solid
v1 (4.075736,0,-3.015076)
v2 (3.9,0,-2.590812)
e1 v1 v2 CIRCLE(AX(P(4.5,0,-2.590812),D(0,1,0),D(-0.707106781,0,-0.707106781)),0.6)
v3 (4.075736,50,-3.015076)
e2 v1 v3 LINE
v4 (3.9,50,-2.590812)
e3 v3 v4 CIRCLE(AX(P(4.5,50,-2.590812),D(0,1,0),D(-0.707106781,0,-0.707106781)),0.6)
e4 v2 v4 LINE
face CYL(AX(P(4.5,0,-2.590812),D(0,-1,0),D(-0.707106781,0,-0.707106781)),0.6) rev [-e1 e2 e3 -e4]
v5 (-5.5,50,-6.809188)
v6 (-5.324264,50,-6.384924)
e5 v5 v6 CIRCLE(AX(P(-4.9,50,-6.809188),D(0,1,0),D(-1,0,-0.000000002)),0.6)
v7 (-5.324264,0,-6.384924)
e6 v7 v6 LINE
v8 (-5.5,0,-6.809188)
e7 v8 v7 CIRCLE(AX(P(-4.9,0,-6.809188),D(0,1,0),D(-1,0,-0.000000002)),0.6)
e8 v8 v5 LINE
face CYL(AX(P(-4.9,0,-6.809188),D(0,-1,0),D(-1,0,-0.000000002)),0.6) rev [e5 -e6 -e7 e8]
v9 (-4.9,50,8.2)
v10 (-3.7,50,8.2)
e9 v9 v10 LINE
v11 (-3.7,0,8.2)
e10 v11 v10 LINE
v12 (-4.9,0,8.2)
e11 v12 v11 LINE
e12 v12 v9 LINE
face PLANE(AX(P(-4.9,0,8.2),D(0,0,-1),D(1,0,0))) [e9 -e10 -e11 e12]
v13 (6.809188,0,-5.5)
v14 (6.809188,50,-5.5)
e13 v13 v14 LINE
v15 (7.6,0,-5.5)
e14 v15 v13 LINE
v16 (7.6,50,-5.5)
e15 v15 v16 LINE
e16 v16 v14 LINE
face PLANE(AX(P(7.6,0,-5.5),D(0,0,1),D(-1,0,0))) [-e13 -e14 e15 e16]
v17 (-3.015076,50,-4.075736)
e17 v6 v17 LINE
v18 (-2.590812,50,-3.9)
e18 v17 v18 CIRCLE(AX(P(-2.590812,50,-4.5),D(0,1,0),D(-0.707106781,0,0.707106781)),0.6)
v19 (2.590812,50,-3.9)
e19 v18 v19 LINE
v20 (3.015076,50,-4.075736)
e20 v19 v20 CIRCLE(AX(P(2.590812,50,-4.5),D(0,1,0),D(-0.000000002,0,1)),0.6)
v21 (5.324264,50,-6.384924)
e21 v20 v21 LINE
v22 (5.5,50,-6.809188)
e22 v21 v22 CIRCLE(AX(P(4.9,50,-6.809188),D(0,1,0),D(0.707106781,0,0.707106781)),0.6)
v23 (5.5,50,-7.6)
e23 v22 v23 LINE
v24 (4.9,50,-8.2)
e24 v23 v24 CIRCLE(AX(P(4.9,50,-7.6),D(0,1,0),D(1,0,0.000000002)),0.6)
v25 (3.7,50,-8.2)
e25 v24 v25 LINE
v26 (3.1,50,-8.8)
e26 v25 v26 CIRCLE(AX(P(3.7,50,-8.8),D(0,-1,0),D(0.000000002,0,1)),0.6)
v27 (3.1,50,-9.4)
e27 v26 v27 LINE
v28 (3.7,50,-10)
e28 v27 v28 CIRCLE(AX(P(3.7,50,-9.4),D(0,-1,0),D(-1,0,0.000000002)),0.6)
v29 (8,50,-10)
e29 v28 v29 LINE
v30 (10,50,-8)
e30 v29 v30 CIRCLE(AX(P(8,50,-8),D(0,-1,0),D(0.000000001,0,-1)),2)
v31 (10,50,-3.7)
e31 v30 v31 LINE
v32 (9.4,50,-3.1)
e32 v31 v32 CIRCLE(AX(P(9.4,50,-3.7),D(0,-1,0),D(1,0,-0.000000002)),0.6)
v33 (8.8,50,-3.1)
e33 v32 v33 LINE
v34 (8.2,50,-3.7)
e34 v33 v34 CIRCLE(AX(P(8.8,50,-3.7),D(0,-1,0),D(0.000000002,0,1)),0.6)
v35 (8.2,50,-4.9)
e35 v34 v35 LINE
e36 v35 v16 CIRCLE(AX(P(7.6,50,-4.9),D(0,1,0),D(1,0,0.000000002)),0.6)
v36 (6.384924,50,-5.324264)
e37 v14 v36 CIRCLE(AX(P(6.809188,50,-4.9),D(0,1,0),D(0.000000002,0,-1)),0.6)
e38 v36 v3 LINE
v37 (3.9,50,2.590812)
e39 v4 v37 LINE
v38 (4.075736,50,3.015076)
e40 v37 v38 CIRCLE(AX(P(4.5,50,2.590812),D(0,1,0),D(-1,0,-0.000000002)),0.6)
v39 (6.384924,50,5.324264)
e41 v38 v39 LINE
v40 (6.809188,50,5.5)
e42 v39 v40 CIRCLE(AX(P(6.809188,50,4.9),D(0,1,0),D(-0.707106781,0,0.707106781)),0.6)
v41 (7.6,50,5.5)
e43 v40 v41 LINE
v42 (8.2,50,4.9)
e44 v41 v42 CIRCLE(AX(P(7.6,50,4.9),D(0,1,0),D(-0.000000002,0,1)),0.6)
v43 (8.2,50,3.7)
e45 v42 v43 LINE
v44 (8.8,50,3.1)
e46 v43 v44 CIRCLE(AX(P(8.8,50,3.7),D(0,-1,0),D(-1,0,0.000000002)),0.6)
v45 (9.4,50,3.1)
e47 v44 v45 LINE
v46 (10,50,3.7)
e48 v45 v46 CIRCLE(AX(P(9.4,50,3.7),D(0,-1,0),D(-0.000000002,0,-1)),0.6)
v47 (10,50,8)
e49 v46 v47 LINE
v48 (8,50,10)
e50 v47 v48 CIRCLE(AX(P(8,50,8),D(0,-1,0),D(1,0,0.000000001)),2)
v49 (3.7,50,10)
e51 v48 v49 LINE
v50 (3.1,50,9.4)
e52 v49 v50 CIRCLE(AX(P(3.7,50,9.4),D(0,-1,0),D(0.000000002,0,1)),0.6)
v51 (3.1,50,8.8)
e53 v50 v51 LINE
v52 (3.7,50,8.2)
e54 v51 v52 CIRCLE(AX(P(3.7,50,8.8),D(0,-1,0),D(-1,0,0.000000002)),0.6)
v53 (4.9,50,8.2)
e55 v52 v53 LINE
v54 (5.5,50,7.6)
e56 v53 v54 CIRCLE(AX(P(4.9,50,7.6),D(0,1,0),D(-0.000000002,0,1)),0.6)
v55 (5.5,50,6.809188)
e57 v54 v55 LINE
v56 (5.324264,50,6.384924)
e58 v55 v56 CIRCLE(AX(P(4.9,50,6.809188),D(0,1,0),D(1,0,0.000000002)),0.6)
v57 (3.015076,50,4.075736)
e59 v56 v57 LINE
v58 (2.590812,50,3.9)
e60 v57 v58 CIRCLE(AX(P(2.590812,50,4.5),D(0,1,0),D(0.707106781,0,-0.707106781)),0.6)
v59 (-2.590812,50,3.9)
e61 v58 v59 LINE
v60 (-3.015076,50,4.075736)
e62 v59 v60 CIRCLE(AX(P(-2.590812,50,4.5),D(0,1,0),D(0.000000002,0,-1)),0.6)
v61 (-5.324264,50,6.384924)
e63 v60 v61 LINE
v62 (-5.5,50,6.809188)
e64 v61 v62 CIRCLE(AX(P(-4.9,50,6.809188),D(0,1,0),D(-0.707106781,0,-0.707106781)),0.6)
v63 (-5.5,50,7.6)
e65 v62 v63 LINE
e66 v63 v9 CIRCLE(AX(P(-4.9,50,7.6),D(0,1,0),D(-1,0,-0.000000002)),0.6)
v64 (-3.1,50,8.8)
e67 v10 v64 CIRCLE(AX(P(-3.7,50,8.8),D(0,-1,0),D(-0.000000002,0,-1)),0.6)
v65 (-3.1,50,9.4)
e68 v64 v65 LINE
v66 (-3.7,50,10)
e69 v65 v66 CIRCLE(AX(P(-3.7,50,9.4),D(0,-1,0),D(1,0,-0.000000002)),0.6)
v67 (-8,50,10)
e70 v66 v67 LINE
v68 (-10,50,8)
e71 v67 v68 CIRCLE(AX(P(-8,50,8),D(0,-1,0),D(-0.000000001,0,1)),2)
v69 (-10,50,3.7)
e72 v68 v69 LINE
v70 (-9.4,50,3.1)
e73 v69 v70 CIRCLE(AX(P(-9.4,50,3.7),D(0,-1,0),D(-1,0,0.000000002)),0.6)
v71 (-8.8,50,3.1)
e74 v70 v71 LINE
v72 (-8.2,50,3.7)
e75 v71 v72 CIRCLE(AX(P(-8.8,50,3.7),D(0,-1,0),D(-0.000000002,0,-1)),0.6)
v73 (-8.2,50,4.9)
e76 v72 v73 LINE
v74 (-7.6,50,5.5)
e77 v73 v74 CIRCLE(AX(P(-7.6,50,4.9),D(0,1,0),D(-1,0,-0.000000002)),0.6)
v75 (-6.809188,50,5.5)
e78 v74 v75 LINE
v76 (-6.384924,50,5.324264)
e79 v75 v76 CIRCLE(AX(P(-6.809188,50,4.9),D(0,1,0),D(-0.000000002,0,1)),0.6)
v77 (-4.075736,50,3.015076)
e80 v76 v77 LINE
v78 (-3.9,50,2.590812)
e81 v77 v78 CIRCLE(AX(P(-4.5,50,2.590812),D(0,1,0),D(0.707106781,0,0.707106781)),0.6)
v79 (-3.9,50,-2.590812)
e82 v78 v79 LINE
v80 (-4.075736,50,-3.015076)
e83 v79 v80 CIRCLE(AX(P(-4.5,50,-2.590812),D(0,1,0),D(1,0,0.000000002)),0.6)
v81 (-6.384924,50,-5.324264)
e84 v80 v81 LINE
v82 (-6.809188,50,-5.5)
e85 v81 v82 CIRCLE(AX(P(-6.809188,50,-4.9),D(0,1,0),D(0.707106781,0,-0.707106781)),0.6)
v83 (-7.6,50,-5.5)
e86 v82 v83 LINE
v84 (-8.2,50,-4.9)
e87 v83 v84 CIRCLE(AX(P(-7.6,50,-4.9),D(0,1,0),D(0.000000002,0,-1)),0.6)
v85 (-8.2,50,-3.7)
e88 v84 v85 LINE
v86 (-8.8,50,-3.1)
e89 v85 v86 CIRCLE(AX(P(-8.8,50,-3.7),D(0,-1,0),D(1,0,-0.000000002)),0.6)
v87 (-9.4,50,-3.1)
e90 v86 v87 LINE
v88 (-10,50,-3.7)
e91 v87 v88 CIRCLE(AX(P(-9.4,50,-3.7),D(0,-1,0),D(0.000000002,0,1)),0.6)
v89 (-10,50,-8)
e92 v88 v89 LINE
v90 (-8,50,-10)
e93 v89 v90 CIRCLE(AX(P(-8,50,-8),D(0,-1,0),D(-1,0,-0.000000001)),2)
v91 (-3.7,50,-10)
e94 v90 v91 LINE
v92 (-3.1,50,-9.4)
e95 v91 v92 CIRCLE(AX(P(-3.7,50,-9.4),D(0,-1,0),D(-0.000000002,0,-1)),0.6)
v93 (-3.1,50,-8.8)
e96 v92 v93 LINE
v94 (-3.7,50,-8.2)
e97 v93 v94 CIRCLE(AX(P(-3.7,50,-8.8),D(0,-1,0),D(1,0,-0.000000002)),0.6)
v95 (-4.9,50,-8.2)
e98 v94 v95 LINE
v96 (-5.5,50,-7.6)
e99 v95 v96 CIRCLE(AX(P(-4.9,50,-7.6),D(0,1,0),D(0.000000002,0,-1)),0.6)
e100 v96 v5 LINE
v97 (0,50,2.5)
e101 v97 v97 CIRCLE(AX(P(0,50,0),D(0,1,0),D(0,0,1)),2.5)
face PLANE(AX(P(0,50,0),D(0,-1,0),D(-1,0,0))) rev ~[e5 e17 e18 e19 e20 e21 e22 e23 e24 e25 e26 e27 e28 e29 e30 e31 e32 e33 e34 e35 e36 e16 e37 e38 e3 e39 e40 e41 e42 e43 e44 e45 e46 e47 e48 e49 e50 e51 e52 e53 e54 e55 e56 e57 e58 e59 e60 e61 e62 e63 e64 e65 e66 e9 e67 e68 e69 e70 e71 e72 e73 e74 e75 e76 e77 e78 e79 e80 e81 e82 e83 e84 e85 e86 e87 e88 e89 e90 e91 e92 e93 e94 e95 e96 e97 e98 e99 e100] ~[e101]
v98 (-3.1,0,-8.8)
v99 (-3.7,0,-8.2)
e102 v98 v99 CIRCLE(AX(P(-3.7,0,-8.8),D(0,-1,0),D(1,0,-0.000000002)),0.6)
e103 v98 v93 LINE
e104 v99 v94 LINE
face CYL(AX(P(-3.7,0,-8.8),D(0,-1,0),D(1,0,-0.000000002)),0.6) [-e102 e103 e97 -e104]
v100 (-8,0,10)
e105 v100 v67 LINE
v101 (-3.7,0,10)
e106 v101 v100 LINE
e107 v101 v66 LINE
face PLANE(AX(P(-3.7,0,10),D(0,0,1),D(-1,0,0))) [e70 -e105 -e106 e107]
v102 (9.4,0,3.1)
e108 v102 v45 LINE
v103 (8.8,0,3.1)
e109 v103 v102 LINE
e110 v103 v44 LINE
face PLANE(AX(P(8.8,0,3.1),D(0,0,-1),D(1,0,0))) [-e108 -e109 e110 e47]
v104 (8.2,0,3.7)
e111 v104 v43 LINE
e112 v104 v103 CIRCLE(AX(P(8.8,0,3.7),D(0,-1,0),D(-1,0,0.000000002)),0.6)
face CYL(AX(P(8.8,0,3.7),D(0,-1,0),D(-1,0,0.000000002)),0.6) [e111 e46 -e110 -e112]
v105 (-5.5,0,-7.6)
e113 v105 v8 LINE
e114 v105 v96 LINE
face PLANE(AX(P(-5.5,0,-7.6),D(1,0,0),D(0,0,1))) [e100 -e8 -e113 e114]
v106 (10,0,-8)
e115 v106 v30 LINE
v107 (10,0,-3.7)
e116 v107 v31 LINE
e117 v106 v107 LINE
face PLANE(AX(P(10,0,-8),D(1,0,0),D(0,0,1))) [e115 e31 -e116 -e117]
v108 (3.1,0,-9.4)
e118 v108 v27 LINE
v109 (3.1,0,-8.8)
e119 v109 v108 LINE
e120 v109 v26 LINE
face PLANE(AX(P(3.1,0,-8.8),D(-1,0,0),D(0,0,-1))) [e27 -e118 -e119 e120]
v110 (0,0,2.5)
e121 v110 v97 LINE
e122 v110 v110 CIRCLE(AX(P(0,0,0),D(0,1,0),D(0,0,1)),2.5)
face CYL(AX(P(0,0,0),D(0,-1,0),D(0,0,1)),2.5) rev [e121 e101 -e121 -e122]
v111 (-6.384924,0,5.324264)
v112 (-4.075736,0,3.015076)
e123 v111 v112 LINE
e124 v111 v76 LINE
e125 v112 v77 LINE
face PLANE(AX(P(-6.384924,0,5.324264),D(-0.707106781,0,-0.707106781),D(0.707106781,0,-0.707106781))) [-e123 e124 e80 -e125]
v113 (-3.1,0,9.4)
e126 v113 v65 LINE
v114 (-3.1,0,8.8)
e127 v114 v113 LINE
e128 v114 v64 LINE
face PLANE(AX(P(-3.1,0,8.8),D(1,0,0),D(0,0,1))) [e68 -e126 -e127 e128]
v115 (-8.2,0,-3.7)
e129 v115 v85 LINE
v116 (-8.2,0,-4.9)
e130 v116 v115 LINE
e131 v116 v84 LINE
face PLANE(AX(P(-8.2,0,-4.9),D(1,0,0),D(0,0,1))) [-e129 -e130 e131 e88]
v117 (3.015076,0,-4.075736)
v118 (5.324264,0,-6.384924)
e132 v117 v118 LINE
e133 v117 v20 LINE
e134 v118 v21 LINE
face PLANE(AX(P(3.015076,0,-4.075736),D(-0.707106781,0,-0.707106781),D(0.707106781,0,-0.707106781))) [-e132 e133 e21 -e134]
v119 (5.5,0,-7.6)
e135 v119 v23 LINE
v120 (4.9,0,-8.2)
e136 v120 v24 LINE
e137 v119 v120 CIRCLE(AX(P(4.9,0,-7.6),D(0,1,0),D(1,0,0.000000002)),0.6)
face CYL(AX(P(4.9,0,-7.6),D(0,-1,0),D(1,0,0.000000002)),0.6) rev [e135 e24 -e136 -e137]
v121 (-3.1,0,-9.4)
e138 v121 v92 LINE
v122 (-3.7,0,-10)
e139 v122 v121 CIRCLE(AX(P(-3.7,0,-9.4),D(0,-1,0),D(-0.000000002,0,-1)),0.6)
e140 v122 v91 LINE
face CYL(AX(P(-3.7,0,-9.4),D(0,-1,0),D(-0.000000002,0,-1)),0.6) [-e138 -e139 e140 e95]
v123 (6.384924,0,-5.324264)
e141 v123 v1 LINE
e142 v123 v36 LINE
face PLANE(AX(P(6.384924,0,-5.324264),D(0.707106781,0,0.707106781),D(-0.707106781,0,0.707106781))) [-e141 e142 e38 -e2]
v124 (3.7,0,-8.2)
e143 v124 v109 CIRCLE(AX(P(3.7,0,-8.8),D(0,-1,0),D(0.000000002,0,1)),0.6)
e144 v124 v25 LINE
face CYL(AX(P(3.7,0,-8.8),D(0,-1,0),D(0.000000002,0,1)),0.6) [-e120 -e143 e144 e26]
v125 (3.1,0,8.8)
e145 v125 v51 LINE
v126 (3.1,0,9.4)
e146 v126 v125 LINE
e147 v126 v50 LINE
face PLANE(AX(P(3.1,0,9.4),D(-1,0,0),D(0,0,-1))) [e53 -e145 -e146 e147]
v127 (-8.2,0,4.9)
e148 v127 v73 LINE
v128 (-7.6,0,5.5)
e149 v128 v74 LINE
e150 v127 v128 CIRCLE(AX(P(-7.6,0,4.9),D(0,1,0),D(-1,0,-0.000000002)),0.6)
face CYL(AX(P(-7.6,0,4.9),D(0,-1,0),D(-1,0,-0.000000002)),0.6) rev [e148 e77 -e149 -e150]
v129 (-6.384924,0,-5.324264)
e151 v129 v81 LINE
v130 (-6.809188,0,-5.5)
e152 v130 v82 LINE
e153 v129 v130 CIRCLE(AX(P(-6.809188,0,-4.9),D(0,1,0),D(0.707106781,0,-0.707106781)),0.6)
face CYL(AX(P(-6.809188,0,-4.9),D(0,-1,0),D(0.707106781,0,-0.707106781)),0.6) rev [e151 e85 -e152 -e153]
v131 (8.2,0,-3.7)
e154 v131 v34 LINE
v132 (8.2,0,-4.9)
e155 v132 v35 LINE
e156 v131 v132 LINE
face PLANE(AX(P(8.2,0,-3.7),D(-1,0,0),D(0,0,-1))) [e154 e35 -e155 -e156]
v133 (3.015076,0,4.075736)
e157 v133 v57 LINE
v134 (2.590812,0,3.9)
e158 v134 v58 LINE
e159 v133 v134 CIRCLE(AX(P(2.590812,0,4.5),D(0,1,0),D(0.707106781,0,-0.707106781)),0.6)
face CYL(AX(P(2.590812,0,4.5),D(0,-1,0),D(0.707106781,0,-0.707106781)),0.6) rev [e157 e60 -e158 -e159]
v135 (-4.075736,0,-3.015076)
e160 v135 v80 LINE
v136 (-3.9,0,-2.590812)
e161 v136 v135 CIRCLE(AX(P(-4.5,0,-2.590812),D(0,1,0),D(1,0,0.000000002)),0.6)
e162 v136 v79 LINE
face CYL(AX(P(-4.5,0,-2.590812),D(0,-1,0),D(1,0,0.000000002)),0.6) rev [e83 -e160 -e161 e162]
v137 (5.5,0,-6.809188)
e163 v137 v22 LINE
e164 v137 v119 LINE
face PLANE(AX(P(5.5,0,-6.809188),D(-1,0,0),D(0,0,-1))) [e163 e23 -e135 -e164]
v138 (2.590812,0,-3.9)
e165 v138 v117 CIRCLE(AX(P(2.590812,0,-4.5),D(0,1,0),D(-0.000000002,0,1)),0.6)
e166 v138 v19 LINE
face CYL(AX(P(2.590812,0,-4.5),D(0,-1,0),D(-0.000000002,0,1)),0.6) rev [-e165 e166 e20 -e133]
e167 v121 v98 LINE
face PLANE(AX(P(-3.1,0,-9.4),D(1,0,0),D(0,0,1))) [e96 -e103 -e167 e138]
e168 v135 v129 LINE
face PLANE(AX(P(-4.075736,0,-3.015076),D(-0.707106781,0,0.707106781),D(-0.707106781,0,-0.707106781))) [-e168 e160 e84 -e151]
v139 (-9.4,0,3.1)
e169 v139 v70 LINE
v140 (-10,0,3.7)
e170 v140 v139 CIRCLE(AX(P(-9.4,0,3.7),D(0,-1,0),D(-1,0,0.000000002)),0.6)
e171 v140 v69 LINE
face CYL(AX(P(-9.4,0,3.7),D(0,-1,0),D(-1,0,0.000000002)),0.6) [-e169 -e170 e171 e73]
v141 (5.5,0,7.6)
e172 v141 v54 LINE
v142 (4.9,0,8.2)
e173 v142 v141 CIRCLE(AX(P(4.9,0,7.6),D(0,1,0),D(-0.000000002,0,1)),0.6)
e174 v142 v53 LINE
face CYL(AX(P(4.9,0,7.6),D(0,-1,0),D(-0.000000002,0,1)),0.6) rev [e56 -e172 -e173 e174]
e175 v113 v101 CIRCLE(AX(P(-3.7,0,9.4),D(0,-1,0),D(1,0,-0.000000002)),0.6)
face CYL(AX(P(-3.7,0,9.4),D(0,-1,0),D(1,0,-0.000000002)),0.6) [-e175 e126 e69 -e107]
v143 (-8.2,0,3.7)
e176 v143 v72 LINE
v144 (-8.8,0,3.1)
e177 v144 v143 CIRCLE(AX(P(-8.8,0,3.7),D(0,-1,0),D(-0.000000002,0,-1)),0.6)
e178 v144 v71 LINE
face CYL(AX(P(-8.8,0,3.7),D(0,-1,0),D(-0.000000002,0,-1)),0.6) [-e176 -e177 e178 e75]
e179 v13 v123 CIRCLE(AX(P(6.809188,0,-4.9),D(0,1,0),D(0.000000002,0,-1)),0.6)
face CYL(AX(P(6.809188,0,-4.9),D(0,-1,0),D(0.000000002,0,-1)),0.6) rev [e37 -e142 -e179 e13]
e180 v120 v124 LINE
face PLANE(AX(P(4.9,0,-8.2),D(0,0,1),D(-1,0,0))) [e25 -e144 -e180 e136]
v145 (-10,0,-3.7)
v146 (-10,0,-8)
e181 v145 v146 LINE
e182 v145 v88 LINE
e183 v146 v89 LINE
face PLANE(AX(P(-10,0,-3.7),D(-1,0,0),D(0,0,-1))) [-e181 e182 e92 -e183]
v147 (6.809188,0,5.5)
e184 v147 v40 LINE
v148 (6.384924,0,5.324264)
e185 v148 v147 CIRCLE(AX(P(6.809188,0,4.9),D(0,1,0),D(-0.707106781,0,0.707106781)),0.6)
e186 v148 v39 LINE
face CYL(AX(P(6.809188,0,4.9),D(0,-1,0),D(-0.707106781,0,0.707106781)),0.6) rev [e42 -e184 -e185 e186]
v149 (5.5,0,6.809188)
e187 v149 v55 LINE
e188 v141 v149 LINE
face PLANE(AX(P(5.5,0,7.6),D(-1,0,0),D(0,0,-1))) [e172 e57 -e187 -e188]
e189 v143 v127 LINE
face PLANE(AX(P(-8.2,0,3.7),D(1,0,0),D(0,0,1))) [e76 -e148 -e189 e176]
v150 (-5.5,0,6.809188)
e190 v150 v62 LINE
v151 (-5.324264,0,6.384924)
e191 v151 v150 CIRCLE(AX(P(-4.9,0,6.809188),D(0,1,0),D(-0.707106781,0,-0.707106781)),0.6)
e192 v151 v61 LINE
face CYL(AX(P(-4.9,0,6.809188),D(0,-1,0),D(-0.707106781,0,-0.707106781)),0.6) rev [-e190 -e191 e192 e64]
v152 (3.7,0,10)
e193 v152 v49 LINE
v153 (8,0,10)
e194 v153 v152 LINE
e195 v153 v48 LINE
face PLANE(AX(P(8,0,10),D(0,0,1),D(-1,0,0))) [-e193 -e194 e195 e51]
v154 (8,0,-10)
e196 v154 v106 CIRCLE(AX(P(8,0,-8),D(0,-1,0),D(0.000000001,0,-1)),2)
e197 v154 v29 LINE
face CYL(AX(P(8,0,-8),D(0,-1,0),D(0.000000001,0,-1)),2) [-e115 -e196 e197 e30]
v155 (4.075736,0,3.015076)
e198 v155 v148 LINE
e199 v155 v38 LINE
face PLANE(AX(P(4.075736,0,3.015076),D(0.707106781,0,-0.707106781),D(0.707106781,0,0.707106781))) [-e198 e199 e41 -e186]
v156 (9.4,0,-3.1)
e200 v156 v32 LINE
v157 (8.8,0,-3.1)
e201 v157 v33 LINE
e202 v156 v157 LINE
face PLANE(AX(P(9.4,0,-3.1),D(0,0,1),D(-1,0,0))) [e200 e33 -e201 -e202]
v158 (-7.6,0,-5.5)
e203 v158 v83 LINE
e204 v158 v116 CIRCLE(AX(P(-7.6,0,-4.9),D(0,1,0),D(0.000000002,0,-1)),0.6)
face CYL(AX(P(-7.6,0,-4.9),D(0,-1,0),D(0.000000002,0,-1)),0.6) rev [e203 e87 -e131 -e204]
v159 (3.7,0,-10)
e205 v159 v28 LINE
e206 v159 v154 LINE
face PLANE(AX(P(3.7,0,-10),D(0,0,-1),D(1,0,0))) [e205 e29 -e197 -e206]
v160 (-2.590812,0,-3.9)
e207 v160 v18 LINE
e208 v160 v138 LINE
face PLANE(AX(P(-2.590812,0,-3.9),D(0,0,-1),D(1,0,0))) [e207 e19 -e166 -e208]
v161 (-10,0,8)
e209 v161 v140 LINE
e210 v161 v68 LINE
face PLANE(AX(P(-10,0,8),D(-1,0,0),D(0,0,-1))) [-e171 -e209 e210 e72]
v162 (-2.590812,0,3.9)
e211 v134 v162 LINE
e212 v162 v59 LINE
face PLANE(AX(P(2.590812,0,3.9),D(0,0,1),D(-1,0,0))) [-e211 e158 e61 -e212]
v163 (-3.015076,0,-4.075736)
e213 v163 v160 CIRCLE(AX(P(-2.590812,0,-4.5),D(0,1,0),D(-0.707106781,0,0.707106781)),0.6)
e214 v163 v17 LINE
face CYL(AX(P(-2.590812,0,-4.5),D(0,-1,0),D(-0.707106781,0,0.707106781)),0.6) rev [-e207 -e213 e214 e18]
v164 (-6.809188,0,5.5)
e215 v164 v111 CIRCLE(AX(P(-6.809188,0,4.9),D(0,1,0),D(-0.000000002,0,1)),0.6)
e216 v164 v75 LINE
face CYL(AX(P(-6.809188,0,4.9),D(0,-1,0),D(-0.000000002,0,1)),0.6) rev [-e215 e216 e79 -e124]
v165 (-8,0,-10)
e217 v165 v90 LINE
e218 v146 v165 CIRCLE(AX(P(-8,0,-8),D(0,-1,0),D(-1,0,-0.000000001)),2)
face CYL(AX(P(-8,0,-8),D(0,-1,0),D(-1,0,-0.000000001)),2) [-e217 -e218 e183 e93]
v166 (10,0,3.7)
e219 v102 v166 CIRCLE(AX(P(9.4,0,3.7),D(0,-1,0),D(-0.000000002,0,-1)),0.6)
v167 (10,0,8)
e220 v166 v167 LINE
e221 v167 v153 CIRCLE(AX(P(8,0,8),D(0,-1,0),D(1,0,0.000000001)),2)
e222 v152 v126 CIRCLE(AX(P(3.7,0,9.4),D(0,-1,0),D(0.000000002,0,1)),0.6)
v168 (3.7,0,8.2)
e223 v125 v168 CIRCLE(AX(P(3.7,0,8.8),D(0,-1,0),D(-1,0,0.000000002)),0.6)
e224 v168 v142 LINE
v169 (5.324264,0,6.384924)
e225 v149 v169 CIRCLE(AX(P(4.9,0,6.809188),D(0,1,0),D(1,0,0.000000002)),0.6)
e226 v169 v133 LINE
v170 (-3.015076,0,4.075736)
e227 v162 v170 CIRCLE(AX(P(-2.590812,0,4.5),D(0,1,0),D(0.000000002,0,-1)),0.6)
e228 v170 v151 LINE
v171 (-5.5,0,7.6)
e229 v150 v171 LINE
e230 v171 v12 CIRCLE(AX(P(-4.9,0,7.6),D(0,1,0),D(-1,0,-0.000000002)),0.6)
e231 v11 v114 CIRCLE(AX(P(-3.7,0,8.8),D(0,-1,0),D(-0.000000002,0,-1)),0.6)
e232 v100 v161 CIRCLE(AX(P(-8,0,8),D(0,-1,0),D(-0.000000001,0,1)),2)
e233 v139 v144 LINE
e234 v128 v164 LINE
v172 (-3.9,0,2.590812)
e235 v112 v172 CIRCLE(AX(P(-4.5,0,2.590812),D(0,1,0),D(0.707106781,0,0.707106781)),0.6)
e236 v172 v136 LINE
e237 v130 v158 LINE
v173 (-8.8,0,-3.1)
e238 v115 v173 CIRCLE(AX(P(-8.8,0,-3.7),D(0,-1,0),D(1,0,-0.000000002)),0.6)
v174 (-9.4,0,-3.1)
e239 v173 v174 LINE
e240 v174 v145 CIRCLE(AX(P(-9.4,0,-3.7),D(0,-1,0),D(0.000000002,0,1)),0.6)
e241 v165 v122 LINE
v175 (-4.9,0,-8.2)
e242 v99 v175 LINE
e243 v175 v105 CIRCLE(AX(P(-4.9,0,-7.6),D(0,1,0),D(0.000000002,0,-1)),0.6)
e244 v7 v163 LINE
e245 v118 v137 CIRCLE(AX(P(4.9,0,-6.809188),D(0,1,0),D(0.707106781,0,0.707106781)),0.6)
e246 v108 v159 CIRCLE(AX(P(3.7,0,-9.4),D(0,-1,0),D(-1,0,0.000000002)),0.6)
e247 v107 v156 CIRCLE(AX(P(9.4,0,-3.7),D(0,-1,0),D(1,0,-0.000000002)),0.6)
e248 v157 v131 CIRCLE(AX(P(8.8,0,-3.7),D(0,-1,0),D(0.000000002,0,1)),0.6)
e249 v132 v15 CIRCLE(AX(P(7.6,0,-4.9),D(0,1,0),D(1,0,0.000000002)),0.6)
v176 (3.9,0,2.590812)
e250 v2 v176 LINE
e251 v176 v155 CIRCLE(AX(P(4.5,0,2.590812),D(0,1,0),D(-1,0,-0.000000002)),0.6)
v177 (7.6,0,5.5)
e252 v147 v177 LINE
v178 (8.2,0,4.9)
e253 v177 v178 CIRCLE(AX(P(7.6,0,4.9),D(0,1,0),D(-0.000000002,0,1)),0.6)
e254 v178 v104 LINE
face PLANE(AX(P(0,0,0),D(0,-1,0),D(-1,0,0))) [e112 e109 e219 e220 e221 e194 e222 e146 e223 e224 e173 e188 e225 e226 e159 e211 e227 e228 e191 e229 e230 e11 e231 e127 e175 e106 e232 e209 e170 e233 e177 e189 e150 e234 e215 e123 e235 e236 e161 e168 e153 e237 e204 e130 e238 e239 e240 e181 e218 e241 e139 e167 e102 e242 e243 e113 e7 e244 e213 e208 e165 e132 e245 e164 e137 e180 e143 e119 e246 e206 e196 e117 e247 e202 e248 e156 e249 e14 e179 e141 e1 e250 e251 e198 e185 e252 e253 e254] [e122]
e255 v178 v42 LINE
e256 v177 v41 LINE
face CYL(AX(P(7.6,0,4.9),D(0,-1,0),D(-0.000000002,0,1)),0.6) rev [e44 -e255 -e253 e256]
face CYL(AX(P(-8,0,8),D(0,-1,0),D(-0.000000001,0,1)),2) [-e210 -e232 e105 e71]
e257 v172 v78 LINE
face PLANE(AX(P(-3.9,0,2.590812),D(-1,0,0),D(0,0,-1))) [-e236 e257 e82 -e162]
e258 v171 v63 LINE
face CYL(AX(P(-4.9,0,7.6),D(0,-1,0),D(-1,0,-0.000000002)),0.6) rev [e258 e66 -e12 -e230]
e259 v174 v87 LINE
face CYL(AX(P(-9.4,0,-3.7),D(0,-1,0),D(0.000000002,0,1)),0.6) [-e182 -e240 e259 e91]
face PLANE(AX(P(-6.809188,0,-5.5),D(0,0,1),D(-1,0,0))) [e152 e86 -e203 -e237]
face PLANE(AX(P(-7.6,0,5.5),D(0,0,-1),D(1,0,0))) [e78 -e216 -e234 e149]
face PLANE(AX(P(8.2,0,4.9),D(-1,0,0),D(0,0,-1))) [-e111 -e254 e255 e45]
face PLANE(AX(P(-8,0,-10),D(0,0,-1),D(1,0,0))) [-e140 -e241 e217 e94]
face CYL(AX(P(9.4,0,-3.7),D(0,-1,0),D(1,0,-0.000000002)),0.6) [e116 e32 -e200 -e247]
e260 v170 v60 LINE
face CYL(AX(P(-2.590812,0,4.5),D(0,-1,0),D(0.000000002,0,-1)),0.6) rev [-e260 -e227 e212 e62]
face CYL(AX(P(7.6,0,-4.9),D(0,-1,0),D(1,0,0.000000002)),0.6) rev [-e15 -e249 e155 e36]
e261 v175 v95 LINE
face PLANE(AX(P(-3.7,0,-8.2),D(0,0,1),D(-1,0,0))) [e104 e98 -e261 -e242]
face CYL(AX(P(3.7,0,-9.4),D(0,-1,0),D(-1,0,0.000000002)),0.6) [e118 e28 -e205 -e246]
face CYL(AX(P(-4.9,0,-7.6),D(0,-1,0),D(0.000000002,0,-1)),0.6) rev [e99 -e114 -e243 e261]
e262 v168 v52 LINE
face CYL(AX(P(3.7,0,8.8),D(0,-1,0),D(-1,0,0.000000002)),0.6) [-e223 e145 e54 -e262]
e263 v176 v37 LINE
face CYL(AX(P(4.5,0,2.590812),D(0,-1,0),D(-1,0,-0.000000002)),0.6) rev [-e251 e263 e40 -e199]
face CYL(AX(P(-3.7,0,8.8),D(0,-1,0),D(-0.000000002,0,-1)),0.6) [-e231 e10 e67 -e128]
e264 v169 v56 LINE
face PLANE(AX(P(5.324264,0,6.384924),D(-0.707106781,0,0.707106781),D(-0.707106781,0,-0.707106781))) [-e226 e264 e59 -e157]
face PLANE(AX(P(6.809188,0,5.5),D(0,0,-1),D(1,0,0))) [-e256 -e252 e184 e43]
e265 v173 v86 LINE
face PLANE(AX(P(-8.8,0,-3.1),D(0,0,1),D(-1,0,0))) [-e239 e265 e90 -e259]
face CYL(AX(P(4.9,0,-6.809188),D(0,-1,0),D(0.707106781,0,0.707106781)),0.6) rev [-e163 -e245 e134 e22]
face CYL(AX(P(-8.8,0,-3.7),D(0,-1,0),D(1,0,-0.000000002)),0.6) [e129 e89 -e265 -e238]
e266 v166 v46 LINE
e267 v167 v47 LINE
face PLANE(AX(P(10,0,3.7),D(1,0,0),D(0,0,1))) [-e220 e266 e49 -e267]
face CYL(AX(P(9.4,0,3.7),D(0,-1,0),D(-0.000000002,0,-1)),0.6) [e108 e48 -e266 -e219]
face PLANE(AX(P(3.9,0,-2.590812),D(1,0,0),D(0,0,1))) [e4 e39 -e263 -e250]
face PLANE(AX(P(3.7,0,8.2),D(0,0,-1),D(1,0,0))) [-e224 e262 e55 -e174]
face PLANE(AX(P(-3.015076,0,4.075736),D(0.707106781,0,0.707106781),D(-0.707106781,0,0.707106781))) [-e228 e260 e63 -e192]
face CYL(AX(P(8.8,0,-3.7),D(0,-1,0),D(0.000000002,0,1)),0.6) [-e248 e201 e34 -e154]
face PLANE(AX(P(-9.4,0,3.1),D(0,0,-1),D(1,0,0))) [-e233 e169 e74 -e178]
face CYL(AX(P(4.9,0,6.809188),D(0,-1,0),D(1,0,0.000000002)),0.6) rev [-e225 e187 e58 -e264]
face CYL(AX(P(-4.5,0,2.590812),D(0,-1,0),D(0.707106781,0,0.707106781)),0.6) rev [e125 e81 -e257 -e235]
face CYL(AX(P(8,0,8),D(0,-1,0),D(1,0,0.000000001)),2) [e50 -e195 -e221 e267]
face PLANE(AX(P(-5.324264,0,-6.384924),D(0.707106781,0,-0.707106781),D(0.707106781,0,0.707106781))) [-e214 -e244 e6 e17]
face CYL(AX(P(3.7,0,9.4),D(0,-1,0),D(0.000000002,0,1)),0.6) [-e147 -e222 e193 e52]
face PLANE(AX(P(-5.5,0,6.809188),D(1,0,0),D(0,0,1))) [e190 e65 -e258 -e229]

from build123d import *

# Parameters (mm, degrees)
SKETCH_1_R      = 2.5
EXTRUDE_1_DEPTH = 50


with BuildPart() as part:
    # 草图1 → 凸台-拉伸1 (new body)
    with BuildSketch(Plane(origin=(0, 0, 0), x_dir=(1, 0, 0), z_dir=(0, 1, 0))):
        with BuildLine():
            Line((3.1, 8.8), (3.1, 9.4))
            ThreePointArc((3.1, 9.4), (3.275735931, 9.824264069), (3.7, 10))
            Line((3.7, 10), (8, 10))
            ThreePointArc((8, 10), (9.414213562, 9.414213562), (10, 8))
            Line((10, 8), (10, 3.7))
            ThreePointArc((10, 3.7), (9.824264069, 3.275735931), (9.4, 3.1))
            Line((9.4, 3.1), (8.8, 3.1))
            ThreePointArc((8.8, 3.1), (8.375735931, 3.275735931), (8.2, 3.7))
            Line((8.2, 3.7), (8.2, 4.9))
            ThreePointArc((8.2, 4.9), (8.024264069, 5.324264069), (7.6, 5.5))
            Line((7.6, 5.5), (6.809188309, 5.5))
            ThreePointArc((6.809188309, 5.5), (6.57957825, 5.45432772), (6.38492424, 5.324264069))
            Line((6.38492424, 5.324264069), (4.075735931, 3.01507576))
            ThreePointArc((4.075735931, 3.01507576), (3.94567228, 2.82042175), (3.9, 2.590811691))
            Line((3.9, 2.590811691), (3.9, 0))
            Line((3.9, 0), (3.9, -2.590811691))
            ThreePointArc((3.9, -2.590811691), (3.94567228, -2.82042175), (4.075735931, -3.01507576))
            Line((4.075735931, -3.01507576), (6.38492424, -5.324264069))
            ThreePointArc((6.38492424, -5.324264069), (6.57957825, -5.45432772), (6.809188309, -5.5))
            Line((6.809188309, -5.5), (7.6, -5.5))
            ThreePointArc((7.6, -5.5), (8.024264069, -5.324264069), (8.2, -4.9))
            Line((8.2, -4.9), (8.2, -3.7))
            ThreePointArc((8.2, -3.7), (8.375735931, -3.275735931), (8.8, -3.1))
            Line((8.8, -3.1), (9.4, -3.1))
            ThreePointArc((9.4, -3.1), (9.824264069, -3.275735931), (10, -3.7))
            Line((10, -3.7), (10, -8))
            ThreePointArc((10, -8), (9.414213562, -9.414213562), (8, -10))
            Line((8, -10), (3.7, -10))
            ThreePointArc((3.7, -10), (3.275735931, -9.824264069), (3.1, -9.4))
            Line((3.1, -9.4), (3.1, -8.8))
            ThreePointArc((3.1, -8.8), (3.275735931, -8.375735931), (3.7, -8.2))
            Line((3.7, -8.2), (4.9, -8.2))
            ThreePointArc((4.9, -8.2), (5.324264069, -8.024264069), (5.5, -7.6))
            Line((5.5, -7.6), (5.5, -6.809188309))
            ThreePointArc((5.5, -6.809188309), (5.45432772, -6.57957825), (5.324264069, -6.38492424))
            Line((5.324264069, -6.38492424), (3.01507576, -4.075735931))
            ThreePointArc((3.01507576, -4.075735931), (2.82042175, -3.94567228), (2.590811691, -3.9))
            Line((2.590811691, -3.9), (0, -3.9))
            Line((0, -3.9), (-2.590811691, -3.9))
            ThreePointArc((-2.590811691, -3.9), (-2.82042175, -3.94567228), (-3.01507576, -4.075735931))
            Line((-3.01507576, -4.075735931), (-5.324264069, -6.38492424))
            ThreePointArc((-5.324264069, -6.38492424), (-5.45432772, -6.57957825), (-5.5, -6.809188309))
            Line((-5.5, -6.809188309), (-5.5, -7.6))
            ThreePointArc((-5.5, -7.6), (-5.324264069, -8.024264069), (-4.9, -8.2))
            Line((-4.9, -8.2), (-3.7, -8.2))
            ThreePointArc((-3.7, -8.2), (-3.275735931, -8.375735931), (-3.1, -8.8))
            Line((-3.1, -8.8), (-3.1, -9.4))
            ThreePointArc((-3.1, -9.4), (-3.275735931, -9.824264069), (-3.7, -10))
            Line((-3.7, -10), (-8, -10))
            ThreePointArc((-8, -10), (-9.414213562, -9.414213562), (-10, -8))
            Line((-10, -8), (-10, -3.7))
            ThreePointArc((-10, -3.7), (-9.824264069, -3.275735931), (-9.4, -3.1))
            Line((-9.4, -3.1), (-8.8, -3.1))
            ThreePointArc((-8.8, -3.1), (-8.375735931, -3.275735931), (-8.2, -3.7))
            Line((-8.2, -3.7), (-8.2, -4.9))
            ThreePointArc((-8.2, -4.9), (-8.024264069, -5.324264069), (-7.6, -5.5))
            Line((-7.6, -5.5), (-6.809188309, -5.5))
            ThreePointArc((-6.809188309, -5.5), (-6.57957825, -5.45432772), (-6.38492424, -5.324264069))
            Line((-6.38492424, -5.324264069), (-4.075735931, -3.01507576))
            ThreePointArc((-4.075735931, -3.01507576), (-3.94567228, -2.82042175), (-3.9, -2.590811691))
            Line((-3.9, -2.590811691), (-3.9, 0))
            Line((-3.9, 0), (-3.9, 2.590811691))
            ThreePointArc((-3.9, 2.590811691), (-3.94567228, 2.82042175), (-4.075735931, 3.01507576))
            Line((-4.075735931, 3.01507576), (-6.38492424, 5.324264069))
            ThreePointArc((-6.38492424, 5.324264069), (-6.57957825, 5.45432772), (-6.809188309, 5.5))
            Line((-6.809188309, 5.5), (-7.6, 5.5))
            ThreePointArc((-7.6, 5.5), (-8.024264069, 5.324264069), (-8.2, 4.9))
            Line((-8.2, 4.9), (-8.2, 3.7))
            ThreePointArc((-8.2, 3.7), (-8.375735931, 3.275735931), (-8.8, 3.1))
            Line((-8.8, 3.1), (-9.4, 3.1))
            ThreePointArc((-9.4, 3.1), (-9.824264069, 3.275735931), (-10, 3.7))
            Line((-10, 3.7), (-10, 8))
            ThreePointArc((-10, 8), (-9.414213562, 9.414213562), (-8, 10))
            Line((-8, 10), (-3.7, 10))
            ThreePointArc((-3.7, 10), (-3.275735931, 9.824264069), (-3.1, 9.4))
            Line((-3.1, 9.4), (-3.1, 8.8))
            ThreePointArc((-3.1, 8.8), (-3.275735931, 8.375735931), (-3.7, 8.2))
            Line((-3.7, 8.2), (-4.9, 8.2))
            ThreePointArc((-4.9, 8.2), (-5.324264069, 8.024264069), (-5.5, 7.6))
            Line((-5.5, 7.6), (-5.5, 6.809188309))
            ThreePointArc((-5.5, 6.809188309), (-5.45432772, 6.57957825), (-5.324264069, 6.38492424))
            Line((-5.324264069, 6.38492424), (-3.01507576, 4.075735931))
            ThreePointArc((-3.01507576, 4.075735931), (-2.82042175, 3.94567228), (-2.590811691, 3.9))
            Line((-2.590811691, 3.9), (0, 3.9))
            Line((0, 3.9), (2.590811691, 3.9))
            ThreePointArc((2.590811691, 3.9), (2.82042175, 3.94567228), (3.01507576, 4.075735931))
            Line((3.01507576, 4.075735931), (5.324264069, 6.38492424))
            ThreePointArc((5.324264069, 6.38492424), (5.45432772, 6.57957825), (5.5, 6.809188309))
            Line((5.5, 6.809188309), (5.5, 7.6))
            ThreePointArc((5.5, 7.6), (5.324264069, 8.024264069), (4.9, 8.2))
            Line((4.9, 8.2), (3.7, 8.2))
            ThreePointArc((3.7, 8.2), (3.275735931, 8.375735931), (3.1, 8.8))
        make_face()
        with Locations(Location((0, 0, 0), (0, 0, 270))):
            Circle(SKETCH_1_R, mode=Mode.SUBTRACT)
    extrude(amount=EXTRUDE_1_DEPTH)


solid = part.part
